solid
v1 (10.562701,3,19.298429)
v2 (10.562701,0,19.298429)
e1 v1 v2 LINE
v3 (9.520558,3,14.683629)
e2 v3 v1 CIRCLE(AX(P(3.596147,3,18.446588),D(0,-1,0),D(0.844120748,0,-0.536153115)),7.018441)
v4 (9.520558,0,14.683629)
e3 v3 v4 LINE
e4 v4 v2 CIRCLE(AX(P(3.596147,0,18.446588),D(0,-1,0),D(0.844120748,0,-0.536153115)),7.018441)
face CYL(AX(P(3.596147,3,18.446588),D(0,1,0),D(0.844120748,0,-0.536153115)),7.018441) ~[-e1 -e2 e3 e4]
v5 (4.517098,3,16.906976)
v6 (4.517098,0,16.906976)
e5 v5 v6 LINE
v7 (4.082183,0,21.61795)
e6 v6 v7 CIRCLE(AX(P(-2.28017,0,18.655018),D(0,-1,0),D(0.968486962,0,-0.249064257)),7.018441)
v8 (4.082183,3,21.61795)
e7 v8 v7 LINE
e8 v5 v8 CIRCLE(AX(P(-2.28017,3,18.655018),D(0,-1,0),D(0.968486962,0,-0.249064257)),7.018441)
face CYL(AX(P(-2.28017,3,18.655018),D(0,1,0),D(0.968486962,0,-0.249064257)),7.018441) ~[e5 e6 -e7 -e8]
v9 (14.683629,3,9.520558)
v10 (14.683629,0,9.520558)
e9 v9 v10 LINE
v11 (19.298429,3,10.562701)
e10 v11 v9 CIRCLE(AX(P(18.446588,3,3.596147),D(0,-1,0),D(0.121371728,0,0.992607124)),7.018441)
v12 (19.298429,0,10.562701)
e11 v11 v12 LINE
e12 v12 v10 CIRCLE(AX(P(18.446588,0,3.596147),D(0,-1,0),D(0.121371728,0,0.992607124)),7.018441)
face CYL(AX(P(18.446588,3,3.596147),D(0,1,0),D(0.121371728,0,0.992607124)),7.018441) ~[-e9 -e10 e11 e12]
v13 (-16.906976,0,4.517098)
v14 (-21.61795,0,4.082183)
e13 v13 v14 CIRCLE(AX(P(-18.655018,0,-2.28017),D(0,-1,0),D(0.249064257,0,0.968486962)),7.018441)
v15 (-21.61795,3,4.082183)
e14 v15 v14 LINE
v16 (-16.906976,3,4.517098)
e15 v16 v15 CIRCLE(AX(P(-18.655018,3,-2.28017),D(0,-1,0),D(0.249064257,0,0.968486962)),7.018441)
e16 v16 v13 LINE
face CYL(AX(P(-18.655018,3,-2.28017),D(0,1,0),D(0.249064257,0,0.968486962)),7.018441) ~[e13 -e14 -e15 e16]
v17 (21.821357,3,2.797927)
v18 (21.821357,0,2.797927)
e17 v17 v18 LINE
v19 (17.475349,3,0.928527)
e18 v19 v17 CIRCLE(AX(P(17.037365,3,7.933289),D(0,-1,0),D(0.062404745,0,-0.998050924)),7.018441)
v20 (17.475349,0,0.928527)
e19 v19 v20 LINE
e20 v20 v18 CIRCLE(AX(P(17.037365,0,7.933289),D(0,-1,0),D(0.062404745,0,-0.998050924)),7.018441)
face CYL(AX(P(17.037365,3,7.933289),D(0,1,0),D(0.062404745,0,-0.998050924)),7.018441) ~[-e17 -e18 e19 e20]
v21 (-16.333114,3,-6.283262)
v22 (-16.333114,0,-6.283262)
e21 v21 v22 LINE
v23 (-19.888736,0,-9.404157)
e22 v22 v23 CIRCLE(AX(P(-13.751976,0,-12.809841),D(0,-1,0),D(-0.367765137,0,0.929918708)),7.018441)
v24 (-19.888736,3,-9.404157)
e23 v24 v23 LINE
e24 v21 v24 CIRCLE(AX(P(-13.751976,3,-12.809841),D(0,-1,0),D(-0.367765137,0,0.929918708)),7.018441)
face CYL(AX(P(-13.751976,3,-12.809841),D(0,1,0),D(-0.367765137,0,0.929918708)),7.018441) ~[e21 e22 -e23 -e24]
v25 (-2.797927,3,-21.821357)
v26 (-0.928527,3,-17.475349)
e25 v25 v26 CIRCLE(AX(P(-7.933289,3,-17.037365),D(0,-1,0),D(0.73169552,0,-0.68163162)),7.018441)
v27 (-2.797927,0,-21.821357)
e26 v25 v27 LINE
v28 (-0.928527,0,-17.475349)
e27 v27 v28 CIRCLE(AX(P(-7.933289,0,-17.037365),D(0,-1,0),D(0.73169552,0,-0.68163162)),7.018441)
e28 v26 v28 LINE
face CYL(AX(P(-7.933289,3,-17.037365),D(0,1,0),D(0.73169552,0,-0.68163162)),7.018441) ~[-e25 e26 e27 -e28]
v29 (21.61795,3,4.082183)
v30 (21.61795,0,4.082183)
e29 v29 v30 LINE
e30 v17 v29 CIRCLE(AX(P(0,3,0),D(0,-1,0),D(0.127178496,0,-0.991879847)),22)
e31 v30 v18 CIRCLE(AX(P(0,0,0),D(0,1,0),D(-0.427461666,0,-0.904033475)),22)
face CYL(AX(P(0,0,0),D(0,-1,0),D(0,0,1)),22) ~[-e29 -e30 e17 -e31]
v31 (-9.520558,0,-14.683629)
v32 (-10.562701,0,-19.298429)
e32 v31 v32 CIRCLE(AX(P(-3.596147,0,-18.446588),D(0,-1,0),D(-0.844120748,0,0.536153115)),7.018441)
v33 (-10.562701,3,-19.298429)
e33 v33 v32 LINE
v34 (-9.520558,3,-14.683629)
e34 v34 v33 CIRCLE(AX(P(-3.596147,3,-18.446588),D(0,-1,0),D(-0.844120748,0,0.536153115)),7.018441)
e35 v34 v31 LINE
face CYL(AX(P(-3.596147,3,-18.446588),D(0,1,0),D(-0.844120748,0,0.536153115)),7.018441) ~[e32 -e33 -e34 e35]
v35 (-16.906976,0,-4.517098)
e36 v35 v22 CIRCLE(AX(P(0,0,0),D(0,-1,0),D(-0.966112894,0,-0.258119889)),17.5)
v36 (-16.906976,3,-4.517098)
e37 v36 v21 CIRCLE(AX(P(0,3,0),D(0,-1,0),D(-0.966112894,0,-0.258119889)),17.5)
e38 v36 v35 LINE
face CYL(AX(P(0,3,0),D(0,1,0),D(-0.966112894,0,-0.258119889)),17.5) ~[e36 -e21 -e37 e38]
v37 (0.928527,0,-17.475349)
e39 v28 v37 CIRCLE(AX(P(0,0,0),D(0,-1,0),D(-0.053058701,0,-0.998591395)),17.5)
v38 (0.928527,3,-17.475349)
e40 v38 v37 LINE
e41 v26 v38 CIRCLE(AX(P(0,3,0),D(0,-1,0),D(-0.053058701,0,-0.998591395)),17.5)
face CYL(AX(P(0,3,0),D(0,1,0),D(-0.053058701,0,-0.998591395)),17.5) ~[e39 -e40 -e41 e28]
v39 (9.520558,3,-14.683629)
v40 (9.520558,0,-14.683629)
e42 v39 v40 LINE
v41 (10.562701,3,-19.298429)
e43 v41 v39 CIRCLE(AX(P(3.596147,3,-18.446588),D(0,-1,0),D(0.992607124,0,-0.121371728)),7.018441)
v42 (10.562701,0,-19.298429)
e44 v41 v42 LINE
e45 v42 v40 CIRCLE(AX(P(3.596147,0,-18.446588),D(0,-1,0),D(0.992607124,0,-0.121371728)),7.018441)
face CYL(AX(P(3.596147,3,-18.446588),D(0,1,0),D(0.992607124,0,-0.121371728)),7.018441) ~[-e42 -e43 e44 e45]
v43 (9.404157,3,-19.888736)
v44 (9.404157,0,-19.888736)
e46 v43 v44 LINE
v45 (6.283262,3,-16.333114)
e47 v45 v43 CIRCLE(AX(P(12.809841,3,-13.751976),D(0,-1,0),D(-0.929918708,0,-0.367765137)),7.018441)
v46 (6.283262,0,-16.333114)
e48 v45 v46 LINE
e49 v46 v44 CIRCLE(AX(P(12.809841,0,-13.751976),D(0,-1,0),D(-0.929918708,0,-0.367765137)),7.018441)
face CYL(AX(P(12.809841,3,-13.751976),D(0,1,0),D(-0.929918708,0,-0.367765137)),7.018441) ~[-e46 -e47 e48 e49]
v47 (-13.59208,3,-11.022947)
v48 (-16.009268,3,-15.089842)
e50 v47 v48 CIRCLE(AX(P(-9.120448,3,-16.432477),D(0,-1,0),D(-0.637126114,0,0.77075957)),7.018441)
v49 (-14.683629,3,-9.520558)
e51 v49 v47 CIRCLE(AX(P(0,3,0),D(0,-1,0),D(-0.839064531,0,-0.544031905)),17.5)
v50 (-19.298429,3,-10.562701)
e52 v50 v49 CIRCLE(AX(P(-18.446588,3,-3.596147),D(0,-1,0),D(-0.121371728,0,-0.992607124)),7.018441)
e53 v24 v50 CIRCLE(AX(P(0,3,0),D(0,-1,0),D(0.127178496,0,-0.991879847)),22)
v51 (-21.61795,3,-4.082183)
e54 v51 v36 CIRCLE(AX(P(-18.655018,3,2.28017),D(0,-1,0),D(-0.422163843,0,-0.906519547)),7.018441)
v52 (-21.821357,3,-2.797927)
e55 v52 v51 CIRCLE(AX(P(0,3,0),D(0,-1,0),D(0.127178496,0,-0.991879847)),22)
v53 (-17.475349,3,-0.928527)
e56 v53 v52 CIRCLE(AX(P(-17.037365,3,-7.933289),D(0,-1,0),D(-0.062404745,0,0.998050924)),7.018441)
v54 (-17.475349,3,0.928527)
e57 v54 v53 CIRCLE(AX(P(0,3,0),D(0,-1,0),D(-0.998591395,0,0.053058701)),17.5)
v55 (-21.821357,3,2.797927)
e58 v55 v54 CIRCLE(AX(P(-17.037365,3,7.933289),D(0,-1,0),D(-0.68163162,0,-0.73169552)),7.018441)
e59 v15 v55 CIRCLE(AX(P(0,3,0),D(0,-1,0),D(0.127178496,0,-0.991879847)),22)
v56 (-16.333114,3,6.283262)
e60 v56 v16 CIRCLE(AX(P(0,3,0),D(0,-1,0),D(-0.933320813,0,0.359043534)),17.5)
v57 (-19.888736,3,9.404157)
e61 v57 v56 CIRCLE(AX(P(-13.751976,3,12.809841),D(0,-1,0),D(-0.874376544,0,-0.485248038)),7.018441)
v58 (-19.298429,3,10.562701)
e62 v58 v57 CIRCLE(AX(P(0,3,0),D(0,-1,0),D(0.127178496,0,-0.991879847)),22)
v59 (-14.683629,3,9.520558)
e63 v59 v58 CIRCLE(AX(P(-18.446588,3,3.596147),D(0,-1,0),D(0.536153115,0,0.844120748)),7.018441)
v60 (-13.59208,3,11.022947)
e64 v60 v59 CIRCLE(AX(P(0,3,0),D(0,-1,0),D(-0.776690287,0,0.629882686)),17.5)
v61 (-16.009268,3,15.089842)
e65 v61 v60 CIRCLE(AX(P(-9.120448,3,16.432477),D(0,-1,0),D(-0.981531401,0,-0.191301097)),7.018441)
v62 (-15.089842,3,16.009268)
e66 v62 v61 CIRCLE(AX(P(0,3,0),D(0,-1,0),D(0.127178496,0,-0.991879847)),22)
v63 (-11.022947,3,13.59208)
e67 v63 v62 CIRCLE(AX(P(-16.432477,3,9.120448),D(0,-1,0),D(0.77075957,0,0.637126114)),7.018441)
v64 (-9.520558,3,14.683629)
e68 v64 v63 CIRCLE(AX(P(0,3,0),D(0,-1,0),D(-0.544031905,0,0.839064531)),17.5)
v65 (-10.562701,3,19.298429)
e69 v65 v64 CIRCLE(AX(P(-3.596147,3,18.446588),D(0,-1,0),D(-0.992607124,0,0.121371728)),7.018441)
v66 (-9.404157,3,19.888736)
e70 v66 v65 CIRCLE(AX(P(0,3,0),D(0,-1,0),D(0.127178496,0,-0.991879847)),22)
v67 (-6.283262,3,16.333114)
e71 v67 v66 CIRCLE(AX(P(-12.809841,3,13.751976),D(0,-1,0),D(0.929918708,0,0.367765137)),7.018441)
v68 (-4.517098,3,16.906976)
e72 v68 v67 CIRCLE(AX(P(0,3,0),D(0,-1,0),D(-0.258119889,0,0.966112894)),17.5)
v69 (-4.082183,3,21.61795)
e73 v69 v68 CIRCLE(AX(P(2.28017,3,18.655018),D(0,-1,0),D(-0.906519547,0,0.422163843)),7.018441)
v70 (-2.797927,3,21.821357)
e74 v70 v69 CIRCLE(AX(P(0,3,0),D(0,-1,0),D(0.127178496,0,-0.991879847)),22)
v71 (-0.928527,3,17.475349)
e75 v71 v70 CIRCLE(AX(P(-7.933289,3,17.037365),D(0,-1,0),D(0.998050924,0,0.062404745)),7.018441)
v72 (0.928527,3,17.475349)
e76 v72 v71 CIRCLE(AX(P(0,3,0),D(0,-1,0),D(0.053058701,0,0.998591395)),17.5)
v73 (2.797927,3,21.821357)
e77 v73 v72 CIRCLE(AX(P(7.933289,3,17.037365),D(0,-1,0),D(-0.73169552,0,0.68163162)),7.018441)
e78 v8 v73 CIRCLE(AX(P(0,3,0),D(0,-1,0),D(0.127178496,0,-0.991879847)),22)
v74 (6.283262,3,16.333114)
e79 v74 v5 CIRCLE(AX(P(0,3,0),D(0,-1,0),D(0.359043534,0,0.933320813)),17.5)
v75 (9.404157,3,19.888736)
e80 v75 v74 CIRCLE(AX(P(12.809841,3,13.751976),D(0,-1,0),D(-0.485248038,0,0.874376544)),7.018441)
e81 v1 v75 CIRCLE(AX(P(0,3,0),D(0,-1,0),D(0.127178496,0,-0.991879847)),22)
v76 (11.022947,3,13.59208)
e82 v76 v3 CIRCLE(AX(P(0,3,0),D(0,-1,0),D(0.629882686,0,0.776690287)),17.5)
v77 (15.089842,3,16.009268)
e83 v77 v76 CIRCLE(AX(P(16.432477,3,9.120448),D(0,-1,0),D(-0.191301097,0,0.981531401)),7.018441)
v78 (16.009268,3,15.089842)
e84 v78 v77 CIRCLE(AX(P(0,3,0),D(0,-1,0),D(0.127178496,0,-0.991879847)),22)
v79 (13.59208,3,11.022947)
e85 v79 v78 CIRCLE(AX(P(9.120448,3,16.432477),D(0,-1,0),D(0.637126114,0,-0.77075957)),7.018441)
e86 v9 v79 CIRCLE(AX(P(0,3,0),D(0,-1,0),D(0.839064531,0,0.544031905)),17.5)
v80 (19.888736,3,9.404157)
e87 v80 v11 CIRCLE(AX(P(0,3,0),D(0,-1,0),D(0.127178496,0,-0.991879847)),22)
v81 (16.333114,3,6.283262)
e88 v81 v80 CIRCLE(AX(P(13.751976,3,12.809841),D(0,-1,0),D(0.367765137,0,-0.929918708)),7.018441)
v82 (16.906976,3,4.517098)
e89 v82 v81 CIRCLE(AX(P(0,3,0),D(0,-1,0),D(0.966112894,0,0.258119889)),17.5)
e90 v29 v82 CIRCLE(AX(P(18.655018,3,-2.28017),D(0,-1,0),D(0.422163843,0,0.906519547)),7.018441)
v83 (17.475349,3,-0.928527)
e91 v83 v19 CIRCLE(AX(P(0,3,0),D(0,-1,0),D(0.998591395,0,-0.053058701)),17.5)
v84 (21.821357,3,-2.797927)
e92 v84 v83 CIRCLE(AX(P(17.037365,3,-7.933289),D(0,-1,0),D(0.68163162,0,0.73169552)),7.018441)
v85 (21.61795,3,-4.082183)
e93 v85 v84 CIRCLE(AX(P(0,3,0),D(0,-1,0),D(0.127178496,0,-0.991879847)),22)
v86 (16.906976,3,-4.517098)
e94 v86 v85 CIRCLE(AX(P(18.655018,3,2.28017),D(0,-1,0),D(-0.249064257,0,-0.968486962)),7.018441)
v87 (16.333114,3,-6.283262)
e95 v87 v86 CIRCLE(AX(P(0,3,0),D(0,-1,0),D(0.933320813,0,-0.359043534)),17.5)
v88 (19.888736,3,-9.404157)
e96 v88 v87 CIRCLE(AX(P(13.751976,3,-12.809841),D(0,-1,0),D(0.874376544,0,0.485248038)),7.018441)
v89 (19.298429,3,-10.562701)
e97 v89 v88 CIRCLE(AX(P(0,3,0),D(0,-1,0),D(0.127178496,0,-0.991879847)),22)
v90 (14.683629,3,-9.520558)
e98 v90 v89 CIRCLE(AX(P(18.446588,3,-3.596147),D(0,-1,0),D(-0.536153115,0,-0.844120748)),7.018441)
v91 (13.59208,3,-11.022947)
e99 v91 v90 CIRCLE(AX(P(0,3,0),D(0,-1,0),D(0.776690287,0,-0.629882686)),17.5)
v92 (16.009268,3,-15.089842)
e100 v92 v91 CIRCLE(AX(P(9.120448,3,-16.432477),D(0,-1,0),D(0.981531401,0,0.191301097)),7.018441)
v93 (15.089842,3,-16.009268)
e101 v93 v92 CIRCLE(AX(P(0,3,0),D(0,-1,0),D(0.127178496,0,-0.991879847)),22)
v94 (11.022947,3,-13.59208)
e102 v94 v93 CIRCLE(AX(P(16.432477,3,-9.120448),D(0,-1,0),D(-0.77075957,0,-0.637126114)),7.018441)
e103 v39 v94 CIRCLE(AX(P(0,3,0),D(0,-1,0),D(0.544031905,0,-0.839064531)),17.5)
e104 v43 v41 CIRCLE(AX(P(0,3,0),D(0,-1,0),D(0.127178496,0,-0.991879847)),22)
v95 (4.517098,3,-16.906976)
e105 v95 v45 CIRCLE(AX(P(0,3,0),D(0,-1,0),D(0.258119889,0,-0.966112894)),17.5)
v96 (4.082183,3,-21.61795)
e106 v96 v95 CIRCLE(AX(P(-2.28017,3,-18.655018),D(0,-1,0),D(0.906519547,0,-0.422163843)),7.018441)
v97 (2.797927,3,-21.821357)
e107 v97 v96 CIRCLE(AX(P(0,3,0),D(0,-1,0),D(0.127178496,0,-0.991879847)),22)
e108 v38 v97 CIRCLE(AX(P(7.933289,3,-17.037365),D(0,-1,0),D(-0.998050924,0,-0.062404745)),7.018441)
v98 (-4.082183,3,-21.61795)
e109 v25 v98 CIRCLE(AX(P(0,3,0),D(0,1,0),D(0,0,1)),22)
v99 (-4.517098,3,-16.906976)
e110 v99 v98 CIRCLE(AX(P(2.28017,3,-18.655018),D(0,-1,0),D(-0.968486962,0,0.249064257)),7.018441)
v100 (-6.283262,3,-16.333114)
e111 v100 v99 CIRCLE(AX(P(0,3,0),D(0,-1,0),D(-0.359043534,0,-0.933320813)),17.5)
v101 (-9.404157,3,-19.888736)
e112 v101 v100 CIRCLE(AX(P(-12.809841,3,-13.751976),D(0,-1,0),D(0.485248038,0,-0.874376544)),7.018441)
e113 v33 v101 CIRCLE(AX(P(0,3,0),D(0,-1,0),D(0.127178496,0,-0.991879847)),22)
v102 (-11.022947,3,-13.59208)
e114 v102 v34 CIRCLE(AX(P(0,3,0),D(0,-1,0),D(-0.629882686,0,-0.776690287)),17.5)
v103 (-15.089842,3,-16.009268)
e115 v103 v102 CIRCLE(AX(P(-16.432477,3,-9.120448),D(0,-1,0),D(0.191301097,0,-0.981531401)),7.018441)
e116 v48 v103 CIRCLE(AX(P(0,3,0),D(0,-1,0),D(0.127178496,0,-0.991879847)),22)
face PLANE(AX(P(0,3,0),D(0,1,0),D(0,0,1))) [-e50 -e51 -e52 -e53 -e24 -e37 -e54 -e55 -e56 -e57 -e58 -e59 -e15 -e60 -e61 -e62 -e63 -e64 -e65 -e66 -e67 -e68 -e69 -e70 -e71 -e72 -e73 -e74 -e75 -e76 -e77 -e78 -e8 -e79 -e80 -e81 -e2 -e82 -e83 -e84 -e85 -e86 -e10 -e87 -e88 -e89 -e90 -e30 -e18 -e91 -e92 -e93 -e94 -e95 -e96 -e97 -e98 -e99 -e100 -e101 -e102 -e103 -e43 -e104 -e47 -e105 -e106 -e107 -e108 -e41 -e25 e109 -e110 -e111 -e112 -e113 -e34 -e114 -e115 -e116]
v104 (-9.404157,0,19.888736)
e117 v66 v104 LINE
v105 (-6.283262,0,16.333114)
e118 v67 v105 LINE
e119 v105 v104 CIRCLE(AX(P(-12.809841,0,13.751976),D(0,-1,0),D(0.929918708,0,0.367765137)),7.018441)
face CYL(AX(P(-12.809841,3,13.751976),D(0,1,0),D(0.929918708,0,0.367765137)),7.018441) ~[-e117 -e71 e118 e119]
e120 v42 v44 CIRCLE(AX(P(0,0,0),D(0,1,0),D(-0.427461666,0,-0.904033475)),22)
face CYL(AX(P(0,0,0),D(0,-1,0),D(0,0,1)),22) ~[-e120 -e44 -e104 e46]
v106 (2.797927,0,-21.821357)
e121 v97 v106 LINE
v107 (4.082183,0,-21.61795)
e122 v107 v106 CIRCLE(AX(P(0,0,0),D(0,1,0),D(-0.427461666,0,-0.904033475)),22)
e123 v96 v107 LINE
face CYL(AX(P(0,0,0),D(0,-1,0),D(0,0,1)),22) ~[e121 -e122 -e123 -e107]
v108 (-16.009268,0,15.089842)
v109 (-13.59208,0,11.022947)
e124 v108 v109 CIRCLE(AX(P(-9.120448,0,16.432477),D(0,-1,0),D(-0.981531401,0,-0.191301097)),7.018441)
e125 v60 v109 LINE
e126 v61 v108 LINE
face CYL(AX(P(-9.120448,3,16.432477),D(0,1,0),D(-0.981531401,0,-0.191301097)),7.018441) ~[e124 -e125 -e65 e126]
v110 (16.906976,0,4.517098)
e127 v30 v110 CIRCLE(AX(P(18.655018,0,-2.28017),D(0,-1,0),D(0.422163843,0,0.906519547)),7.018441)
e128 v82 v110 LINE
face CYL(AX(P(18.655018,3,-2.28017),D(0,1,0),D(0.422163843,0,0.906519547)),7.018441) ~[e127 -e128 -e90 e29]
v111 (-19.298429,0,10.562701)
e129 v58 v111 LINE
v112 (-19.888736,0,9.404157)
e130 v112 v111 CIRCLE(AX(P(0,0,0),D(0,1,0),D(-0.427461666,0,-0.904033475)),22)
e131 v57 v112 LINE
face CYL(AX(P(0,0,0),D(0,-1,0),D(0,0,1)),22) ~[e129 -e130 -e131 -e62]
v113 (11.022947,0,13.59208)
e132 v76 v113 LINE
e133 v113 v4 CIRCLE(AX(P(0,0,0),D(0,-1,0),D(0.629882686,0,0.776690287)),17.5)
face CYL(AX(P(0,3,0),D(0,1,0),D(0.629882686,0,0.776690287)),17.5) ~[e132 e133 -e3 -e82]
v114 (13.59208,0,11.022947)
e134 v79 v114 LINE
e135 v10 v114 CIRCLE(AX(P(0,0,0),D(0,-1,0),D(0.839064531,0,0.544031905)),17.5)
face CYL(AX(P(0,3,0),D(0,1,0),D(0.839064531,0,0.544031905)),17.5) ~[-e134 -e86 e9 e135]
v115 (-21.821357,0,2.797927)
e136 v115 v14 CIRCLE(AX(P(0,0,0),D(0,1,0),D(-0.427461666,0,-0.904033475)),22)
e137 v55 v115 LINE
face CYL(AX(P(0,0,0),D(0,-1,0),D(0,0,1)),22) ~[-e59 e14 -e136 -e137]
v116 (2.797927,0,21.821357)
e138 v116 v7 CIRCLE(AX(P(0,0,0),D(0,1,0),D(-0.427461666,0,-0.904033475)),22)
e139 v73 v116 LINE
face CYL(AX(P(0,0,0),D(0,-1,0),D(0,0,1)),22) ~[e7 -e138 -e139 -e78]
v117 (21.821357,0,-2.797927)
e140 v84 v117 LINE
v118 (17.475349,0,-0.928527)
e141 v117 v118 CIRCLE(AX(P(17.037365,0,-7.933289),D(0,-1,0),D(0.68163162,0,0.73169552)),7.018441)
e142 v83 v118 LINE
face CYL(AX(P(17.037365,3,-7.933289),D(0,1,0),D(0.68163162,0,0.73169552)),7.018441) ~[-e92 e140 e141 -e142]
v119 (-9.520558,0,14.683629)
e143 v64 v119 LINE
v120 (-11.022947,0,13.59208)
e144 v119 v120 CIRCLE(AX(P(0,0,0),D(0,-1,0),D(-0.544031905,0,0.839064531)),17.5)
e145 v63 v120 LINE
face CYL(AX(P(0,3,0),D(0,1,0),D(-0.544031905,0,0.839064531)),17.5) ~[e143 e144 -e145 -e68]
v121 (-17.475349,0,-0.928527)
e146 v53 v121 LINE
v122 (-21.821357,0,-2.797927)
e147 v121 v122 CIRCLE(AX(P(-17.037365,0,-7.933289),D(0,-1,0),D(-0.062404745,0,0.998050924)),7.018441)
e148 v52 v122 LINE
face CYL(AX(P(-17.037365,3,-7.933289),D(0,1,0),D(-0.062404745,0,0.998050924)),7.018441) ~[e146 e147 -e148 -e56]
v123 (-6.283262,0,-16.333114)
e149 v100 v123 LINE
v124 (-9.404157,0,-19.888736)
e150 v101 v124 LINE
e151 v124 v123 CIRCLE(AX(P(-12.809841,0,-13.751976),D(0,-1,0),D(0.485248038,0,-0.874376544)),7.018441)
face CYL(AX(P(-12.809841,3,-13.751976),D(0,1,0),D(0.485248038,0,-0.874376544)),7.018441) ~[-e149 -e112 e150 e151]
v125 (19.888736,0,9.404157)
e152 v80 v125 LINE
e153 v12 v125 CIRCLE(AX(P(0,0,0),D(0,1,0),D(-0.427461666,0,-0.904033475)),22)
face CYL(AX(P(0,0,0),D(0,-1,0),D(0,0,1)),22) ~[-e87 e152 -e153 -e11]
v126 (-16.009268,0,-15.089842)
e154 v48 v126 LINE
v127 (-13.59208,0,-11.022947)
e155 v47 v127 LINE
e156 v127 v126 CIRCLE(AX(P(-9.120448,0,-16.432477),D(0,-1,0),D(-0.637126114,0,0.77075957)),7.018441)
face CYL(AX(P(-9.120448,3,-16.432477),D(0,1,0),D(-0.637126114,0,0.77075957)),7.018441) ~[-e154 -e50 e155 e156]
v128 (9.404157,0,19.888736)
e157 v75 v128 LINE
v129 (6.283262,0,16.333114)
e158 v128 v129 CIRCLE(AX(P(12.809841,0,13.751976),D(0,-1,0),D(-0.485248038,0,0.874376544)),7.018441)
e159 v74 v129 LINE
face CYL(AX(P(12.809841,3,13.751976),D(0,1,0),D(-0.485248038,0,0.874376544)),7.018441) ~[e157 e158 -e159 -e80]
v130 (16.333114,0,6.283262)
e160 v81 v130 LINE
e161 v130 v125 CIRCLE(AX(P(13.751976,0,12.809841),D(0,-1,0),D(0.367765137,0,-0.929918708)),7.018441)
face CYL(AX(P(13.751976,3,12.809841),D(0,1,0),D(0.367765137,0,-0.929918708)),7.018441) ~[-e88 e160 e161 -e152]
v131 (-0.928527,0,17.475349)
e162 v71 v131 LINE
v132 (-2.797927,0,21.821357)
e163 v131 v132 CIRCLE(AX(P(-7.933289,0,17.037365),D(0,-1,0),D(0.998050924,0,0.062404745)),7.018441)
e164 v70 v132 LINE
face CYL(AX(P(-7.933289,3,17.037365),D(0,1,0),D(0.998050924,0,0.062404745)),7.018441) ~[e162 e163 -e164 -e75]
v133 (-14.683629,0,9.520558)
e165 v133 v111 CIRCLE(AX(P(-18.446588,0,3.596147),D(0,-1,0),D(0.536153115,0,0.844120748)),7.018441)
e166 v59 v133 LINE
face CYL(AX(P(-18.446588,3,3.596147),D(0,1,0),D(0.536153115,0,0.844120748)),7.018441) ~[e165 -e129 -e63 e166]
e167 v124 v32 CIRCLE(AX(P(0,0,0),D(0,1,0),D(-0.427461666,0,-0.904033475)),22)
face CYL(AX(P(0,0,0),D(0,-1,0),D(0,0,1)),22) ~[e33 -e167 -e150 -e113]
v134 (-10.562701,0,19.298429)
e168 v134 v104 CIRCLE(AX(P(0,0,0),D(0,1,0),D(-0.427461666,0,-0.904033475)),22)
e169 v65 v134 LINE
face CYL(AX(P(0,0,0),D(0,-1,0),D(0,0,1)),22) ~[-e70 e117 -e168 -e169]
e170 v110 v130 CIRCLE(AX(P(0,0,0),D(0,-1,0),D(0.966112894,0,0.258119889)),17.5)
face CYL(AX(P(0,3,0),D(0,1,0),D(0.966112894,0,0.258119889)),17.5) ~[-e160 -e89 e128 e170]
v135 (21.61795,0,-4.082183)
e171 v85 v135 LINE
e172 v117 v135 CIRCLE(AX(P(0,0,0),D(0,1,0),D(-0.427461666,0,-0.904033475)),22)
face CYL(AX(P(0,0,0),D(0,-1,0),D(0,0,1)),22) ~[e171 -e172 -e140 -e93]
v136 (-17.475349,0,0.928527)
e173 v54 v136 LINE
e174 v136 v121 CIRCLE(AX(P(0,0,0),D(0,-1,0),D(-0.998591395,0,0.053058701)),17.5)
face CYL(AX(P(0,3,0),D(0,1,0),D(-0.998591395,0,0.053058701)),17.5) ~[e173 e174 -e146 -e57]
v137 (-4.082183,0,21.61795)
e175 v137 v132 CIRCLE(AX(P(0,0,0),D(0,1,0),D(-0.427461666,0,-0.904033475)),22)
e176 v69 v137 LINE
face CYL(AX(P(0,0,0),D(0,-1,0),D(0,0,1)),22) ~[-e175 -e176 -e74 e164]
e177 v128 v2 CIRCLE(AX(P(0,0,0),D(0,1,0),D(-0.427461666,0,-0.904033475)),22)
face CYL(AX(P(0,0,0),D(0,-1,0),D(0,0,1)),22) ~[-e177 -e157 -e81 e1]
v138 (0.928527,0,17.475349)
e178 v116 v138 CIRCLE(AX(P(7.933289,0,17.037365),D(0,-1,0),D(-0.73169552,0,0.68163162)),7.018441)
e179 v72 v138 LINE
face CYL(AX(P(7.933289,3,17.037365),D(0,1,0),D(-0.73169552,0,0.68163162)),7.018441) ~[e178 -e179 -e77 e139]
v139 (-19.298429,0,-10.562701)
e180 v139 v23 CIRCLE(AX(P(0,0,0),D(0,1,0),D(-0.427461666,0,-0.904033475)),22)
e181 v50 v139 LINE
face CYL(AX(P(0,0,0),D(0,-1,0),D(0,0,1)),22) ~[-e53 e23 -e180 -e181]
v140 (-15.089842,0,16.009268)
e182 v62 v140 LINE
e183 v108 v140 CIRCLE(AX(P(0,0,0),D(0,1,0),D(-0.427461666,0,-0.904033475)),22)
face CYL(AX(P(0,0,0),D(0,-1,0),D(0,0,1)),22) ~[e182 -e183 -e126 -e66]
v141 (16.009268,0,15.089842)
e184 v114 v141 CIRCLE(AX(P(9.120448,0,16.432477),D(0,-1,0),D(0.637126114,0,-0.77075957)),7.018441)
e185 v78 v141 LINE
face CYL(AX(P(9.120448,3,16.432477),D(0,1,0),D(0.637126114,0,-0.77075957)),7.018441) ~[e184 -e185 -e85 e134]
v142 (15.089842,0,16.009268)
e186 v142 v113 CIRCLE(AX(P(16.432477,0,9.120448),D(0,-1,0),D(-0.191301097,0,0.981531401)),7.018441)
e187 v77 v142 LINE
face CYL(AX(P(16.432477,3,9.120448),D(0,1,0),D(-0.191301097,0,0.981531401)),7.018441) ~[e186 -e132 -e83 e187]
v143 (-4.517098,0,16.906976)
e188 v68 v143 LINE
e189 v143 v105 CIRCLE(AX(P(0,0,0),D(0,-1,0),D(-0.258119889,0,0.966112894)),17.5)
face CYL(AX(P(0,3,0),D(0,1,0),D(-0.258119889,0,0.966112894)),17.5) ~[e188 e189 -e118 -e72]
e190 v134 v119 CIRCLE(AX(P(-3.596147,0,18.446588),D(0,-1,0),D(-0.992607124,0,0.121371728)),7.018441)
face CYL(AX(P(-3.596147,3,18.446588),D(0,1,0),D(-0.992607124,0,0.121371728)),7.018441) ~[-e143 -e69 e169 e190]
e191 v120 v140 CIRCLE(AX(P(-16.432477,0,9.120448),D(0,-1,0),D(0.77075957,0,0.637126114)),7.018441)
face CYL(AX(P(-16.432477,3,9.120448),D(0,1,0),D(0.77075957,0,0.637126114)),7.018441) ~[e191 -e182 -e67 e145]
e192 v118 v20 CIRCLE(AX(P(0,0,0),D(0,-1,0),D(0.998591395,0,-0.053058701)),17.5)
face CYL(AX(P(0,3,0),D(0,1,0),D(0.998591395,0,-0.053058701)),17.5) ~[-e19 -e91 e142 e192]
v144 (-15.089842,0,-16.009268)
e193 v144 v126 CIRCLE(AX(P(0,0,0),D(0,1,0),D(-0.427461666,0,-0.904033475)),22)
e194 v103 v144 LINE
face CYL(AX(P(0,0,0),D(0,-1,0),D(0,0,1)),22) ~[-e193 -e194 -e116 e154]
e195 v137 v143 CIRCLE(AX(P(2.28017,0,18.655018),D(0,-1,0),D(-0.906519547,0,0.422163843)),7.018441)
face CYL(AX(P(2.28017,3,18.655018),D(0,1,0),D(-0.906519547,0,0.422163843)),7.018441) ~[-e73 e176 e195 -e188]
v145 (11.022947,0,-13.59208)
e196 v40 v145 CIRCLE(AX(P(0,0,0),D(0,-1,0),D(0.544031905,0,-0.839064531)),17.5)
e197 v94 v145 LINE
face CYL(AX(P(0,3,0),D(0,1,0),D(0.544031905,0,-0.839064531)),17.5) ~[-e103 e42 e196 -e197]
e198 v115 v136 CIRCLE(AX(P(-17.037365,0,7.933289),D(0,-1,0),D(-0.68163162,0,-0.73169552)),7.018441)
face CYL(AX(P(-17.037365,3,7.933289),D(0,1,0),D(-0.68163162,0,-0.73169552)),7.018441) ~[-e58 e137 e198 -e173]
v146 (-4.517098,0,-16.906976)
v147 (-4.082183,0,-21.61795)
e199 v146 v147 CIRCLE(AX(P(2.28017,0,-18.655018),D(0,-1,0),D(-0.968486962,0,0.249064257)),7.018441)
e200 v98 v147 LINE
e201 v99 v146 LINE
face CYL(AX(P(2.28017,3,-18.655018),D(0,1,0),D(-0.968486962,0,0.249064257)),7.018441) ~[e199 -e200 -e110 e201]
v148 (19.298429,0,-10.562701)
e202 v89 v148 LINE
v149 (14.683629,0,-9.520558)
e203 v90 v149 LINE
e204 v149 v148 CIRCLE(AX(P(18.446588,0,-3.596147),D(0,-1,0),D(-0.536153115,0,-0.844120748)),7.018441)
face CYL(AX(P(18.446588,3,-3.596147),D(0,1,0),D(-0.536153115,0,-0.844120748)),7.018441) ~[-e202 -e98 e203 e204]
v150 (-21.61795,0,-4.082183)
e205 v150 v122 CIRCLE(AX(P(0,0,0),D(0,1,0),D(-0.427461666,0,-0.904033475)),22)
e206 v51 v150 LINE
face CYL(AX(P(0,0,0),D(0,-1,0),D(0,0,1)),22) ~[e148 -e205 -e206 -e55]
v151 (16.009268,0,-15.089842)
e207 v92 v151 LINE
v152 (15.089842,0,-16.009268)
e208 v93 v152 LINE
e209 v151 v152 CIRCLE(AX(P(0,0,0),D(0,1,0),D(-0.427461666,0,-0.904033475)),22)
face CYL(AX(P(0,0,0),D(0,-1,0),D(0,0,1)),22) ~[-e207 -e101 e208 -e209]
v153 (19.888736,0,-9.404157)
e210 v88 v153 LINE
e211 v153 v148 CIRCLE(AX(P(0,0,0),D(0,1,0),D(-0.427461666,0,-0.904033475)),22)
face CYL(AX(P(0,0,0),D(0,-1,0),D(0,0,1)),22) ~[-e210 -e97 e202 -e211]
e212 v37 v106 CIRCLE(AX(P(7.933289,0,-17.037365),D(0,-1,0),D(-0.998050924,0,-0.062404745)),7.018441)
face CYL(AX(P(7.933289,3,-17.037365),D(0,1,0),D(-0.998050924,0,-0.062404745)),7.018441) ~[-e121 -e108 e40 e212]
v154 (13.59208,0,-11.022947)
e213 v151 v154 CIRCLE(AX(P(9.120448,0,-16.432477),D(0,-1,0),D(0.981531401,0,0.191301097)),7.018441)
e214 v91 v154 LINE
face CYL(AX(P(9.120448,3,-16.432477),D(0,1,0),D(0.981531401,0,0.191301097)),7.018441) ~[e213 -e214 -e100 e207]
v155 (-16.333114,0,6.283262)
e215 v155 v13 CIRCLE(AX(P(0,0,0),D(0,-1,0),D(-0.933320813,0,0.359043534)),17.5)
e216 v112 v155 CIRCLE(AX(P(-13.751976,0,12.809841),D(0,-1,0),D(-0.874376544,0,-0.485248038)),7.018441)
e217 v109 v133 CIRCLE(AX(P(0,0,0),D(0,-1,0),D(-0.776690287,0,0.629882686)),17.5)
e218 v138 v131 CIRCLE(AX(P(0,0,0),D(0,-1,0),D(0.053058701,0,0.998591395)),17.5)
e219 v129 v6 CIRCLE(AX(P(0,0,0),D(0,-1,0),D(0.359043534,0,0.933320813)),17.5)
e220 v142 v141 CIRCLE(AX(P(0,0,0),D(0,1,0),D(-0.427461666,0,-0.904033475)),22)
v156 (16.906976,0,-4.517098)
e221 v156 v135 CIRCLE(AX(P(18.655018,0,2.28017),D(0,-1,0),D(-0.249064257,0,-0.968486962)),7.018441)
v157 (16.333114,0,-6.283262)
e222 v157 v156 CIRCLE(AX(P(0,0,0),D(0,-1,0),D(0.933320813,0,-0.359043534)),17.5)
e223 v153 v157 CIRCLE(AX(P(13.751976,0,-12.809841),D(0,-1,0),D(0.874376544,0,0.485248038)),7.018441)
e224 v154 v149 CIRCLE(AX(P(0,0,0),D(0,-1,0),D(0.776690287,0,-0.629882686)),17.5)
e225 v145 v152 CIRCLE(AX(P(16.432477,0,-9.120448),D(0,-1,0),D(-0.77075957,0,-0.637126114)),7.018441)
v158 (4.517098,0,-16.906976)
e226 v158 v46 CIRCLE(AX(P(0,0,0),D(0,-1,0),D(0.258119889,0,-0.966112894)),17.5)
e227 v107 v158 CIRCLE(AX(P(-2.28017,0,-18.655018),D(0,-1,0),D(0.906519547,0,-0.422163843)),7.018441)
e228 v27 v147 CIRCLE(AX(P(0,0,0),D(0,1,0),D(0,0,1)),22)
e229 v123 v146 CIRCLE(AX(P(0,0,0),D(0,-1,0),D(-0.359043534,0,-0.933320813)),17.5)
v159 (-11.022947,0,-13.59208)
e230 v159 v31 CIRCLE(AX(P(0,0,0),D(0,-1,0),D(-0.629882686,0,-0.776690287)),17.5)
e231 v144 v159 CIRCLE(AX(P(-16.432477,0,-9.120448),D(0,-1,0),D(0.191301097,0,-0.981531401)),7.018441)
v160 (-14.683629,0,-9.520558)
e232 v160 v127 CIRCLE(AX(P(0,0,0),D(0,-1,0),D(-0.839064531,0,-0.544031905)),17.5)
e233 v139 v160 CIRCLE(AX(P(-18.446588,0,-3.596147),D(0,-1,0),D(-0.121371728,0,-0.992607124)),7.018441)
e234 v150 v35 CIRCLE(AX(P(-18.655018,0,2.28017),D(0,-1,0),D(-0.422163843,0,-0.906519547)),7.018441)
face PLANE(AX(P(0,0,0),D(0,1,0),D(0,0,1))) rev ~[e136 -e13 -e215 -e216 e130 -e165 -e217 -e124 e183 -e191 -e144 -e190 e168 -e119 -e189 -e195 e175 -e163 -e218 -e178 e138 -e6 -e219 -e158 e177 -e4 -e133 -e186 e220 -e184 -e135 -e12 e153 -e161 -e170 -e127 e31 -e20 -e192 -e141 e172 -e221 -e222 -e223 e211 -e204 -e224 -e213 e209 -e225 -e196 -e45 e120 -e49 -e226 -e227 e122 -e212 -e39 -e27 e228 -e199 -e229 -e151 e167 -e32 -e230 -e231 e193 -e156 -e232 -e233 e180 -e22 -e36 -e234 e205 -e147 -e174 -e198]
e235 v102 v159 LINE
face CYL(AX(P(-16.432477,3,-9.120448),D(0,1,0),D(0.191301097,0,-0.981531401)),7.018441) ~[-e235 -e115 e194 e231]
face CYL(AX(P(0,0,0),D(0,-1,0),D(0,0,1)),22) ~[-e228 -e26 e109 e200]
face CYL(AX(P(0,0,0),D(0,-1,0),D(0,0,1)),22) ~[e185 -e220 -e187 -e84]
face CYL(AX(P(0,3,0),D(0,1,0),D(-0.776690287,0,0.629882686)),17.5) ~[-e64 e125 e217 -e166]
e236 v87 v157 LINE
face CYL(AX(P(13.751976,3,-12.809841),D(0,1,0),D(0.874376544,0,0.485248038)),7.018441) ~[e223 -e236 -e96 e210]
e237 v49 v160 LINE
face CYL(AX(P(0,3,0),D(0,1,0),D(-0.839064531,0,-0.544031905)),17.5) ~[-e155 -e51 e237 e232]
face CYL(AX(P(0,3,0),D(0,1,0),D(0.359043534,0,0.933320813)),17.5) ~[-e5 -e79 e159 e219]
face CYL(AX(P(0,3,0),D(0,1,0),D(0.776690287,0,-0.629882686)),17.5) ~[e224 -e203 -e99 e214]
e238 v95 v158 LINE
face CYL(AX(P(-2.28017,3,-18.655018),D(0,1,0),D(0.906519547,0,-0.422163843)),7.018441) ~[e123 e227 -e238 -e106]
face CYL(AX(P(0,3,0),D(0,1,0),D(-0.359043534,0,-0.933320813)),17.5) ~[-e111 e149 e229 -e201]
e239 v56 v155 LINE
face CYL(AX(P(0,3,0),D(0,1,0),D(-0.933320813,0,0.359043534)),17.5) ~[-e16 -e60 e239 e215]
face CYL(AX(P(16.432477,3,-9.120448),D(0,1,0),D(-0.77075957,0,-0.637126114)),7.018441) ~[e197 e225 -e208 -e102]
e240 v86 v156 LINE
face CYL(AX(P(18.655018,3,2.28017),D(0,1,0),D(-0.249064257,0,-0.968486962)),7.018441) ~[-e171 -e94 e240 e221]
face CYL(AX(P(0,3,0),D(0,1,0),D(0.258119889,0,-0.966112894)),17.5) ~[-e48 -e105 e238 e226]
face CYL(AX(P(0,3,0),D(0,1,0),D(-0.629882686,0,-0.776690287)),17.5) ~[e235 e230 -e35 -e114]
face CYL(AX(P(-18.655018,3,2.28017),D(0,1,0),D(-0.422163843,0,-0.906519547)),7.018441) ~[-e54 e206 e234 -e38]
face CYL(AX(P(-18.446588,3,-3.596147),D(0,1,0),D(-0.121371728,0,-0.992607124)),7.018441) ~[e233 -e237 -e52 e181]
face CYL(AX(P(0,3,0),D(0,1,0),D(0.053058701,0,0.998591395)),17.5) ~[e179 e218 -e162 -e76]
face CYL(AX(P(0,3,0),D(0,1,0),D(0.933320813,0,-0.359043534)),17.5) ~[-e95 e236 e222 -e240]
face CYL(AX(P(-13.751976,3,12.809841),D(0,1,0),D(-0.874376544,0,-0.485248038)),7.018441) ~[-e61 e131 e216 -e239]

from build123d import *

# Parameters (mm, degrees)
CROQUIS1_R              = 22
SALIENTE_EXTRUIR1_DEPTH = 3
CORTAR_EXTRUIR1_DEPTH   = 3
MATRIZC1_COUNT          = 20


with BuildPart() as part:
    # Croquis1 → Saliente-Extruir1 (new body)
    with BuildSketch(Plane(origin=(0, 0, 0), x_dir=(1, 0, 0), z_dir=(0, 1, 0))):
        with Locations(Location((0, 0, 0), (0, 0, 270))):  # turned: the seam where the file's is
            Circle(CROQUIS1_R)
    extrude(amount=SALIENTE_EXTRUIR1_DEPTH)

    # Croquis2 → Cortar-Extruir1 (cut)
    with BuildSketch(Plane(origin=(0, 3, 0), x_dir=(1, 0, 0), z_dir=(0, 1, 0))):
        with BuildLine():
            ThreePointArc((0.928527245, 17.475349414), (1.485995248, 19.810616222), (2.797926902, 21.821356627))
            ThreePointArc((2.797926902, 21.821356627), (0, 22), (-2.797926902, 21.821356627))
            ThreePointArc((-2.797926902, 21.821356627), (-1.485995248, 19.810616222), (-0.928527245, 17.475349414))
            ThreePointArc((-0.928527245, 17.475349414), (0, 17.5), (0.928527245, 17.475349414))
        make_face()
    cortar_extruir1 = extrude(amount=-CORTAR_EXTRUIR1_DEPTH, mode=Mode.SUBTRACT)

    # MatrizC1: Cortar-Extruir1 ×20 about axis
    matrizc1_axis = Axis((0, 0, 0), (0, 1, 0))
    for i in range(1, MATRIZC1_COUNT):
        add(cortar_extruir1.rotate(matrizc1_axis, i * 360 / MATRIZC1_COUNT), mode=Mode.SUBTRACT)


solid = part.part
